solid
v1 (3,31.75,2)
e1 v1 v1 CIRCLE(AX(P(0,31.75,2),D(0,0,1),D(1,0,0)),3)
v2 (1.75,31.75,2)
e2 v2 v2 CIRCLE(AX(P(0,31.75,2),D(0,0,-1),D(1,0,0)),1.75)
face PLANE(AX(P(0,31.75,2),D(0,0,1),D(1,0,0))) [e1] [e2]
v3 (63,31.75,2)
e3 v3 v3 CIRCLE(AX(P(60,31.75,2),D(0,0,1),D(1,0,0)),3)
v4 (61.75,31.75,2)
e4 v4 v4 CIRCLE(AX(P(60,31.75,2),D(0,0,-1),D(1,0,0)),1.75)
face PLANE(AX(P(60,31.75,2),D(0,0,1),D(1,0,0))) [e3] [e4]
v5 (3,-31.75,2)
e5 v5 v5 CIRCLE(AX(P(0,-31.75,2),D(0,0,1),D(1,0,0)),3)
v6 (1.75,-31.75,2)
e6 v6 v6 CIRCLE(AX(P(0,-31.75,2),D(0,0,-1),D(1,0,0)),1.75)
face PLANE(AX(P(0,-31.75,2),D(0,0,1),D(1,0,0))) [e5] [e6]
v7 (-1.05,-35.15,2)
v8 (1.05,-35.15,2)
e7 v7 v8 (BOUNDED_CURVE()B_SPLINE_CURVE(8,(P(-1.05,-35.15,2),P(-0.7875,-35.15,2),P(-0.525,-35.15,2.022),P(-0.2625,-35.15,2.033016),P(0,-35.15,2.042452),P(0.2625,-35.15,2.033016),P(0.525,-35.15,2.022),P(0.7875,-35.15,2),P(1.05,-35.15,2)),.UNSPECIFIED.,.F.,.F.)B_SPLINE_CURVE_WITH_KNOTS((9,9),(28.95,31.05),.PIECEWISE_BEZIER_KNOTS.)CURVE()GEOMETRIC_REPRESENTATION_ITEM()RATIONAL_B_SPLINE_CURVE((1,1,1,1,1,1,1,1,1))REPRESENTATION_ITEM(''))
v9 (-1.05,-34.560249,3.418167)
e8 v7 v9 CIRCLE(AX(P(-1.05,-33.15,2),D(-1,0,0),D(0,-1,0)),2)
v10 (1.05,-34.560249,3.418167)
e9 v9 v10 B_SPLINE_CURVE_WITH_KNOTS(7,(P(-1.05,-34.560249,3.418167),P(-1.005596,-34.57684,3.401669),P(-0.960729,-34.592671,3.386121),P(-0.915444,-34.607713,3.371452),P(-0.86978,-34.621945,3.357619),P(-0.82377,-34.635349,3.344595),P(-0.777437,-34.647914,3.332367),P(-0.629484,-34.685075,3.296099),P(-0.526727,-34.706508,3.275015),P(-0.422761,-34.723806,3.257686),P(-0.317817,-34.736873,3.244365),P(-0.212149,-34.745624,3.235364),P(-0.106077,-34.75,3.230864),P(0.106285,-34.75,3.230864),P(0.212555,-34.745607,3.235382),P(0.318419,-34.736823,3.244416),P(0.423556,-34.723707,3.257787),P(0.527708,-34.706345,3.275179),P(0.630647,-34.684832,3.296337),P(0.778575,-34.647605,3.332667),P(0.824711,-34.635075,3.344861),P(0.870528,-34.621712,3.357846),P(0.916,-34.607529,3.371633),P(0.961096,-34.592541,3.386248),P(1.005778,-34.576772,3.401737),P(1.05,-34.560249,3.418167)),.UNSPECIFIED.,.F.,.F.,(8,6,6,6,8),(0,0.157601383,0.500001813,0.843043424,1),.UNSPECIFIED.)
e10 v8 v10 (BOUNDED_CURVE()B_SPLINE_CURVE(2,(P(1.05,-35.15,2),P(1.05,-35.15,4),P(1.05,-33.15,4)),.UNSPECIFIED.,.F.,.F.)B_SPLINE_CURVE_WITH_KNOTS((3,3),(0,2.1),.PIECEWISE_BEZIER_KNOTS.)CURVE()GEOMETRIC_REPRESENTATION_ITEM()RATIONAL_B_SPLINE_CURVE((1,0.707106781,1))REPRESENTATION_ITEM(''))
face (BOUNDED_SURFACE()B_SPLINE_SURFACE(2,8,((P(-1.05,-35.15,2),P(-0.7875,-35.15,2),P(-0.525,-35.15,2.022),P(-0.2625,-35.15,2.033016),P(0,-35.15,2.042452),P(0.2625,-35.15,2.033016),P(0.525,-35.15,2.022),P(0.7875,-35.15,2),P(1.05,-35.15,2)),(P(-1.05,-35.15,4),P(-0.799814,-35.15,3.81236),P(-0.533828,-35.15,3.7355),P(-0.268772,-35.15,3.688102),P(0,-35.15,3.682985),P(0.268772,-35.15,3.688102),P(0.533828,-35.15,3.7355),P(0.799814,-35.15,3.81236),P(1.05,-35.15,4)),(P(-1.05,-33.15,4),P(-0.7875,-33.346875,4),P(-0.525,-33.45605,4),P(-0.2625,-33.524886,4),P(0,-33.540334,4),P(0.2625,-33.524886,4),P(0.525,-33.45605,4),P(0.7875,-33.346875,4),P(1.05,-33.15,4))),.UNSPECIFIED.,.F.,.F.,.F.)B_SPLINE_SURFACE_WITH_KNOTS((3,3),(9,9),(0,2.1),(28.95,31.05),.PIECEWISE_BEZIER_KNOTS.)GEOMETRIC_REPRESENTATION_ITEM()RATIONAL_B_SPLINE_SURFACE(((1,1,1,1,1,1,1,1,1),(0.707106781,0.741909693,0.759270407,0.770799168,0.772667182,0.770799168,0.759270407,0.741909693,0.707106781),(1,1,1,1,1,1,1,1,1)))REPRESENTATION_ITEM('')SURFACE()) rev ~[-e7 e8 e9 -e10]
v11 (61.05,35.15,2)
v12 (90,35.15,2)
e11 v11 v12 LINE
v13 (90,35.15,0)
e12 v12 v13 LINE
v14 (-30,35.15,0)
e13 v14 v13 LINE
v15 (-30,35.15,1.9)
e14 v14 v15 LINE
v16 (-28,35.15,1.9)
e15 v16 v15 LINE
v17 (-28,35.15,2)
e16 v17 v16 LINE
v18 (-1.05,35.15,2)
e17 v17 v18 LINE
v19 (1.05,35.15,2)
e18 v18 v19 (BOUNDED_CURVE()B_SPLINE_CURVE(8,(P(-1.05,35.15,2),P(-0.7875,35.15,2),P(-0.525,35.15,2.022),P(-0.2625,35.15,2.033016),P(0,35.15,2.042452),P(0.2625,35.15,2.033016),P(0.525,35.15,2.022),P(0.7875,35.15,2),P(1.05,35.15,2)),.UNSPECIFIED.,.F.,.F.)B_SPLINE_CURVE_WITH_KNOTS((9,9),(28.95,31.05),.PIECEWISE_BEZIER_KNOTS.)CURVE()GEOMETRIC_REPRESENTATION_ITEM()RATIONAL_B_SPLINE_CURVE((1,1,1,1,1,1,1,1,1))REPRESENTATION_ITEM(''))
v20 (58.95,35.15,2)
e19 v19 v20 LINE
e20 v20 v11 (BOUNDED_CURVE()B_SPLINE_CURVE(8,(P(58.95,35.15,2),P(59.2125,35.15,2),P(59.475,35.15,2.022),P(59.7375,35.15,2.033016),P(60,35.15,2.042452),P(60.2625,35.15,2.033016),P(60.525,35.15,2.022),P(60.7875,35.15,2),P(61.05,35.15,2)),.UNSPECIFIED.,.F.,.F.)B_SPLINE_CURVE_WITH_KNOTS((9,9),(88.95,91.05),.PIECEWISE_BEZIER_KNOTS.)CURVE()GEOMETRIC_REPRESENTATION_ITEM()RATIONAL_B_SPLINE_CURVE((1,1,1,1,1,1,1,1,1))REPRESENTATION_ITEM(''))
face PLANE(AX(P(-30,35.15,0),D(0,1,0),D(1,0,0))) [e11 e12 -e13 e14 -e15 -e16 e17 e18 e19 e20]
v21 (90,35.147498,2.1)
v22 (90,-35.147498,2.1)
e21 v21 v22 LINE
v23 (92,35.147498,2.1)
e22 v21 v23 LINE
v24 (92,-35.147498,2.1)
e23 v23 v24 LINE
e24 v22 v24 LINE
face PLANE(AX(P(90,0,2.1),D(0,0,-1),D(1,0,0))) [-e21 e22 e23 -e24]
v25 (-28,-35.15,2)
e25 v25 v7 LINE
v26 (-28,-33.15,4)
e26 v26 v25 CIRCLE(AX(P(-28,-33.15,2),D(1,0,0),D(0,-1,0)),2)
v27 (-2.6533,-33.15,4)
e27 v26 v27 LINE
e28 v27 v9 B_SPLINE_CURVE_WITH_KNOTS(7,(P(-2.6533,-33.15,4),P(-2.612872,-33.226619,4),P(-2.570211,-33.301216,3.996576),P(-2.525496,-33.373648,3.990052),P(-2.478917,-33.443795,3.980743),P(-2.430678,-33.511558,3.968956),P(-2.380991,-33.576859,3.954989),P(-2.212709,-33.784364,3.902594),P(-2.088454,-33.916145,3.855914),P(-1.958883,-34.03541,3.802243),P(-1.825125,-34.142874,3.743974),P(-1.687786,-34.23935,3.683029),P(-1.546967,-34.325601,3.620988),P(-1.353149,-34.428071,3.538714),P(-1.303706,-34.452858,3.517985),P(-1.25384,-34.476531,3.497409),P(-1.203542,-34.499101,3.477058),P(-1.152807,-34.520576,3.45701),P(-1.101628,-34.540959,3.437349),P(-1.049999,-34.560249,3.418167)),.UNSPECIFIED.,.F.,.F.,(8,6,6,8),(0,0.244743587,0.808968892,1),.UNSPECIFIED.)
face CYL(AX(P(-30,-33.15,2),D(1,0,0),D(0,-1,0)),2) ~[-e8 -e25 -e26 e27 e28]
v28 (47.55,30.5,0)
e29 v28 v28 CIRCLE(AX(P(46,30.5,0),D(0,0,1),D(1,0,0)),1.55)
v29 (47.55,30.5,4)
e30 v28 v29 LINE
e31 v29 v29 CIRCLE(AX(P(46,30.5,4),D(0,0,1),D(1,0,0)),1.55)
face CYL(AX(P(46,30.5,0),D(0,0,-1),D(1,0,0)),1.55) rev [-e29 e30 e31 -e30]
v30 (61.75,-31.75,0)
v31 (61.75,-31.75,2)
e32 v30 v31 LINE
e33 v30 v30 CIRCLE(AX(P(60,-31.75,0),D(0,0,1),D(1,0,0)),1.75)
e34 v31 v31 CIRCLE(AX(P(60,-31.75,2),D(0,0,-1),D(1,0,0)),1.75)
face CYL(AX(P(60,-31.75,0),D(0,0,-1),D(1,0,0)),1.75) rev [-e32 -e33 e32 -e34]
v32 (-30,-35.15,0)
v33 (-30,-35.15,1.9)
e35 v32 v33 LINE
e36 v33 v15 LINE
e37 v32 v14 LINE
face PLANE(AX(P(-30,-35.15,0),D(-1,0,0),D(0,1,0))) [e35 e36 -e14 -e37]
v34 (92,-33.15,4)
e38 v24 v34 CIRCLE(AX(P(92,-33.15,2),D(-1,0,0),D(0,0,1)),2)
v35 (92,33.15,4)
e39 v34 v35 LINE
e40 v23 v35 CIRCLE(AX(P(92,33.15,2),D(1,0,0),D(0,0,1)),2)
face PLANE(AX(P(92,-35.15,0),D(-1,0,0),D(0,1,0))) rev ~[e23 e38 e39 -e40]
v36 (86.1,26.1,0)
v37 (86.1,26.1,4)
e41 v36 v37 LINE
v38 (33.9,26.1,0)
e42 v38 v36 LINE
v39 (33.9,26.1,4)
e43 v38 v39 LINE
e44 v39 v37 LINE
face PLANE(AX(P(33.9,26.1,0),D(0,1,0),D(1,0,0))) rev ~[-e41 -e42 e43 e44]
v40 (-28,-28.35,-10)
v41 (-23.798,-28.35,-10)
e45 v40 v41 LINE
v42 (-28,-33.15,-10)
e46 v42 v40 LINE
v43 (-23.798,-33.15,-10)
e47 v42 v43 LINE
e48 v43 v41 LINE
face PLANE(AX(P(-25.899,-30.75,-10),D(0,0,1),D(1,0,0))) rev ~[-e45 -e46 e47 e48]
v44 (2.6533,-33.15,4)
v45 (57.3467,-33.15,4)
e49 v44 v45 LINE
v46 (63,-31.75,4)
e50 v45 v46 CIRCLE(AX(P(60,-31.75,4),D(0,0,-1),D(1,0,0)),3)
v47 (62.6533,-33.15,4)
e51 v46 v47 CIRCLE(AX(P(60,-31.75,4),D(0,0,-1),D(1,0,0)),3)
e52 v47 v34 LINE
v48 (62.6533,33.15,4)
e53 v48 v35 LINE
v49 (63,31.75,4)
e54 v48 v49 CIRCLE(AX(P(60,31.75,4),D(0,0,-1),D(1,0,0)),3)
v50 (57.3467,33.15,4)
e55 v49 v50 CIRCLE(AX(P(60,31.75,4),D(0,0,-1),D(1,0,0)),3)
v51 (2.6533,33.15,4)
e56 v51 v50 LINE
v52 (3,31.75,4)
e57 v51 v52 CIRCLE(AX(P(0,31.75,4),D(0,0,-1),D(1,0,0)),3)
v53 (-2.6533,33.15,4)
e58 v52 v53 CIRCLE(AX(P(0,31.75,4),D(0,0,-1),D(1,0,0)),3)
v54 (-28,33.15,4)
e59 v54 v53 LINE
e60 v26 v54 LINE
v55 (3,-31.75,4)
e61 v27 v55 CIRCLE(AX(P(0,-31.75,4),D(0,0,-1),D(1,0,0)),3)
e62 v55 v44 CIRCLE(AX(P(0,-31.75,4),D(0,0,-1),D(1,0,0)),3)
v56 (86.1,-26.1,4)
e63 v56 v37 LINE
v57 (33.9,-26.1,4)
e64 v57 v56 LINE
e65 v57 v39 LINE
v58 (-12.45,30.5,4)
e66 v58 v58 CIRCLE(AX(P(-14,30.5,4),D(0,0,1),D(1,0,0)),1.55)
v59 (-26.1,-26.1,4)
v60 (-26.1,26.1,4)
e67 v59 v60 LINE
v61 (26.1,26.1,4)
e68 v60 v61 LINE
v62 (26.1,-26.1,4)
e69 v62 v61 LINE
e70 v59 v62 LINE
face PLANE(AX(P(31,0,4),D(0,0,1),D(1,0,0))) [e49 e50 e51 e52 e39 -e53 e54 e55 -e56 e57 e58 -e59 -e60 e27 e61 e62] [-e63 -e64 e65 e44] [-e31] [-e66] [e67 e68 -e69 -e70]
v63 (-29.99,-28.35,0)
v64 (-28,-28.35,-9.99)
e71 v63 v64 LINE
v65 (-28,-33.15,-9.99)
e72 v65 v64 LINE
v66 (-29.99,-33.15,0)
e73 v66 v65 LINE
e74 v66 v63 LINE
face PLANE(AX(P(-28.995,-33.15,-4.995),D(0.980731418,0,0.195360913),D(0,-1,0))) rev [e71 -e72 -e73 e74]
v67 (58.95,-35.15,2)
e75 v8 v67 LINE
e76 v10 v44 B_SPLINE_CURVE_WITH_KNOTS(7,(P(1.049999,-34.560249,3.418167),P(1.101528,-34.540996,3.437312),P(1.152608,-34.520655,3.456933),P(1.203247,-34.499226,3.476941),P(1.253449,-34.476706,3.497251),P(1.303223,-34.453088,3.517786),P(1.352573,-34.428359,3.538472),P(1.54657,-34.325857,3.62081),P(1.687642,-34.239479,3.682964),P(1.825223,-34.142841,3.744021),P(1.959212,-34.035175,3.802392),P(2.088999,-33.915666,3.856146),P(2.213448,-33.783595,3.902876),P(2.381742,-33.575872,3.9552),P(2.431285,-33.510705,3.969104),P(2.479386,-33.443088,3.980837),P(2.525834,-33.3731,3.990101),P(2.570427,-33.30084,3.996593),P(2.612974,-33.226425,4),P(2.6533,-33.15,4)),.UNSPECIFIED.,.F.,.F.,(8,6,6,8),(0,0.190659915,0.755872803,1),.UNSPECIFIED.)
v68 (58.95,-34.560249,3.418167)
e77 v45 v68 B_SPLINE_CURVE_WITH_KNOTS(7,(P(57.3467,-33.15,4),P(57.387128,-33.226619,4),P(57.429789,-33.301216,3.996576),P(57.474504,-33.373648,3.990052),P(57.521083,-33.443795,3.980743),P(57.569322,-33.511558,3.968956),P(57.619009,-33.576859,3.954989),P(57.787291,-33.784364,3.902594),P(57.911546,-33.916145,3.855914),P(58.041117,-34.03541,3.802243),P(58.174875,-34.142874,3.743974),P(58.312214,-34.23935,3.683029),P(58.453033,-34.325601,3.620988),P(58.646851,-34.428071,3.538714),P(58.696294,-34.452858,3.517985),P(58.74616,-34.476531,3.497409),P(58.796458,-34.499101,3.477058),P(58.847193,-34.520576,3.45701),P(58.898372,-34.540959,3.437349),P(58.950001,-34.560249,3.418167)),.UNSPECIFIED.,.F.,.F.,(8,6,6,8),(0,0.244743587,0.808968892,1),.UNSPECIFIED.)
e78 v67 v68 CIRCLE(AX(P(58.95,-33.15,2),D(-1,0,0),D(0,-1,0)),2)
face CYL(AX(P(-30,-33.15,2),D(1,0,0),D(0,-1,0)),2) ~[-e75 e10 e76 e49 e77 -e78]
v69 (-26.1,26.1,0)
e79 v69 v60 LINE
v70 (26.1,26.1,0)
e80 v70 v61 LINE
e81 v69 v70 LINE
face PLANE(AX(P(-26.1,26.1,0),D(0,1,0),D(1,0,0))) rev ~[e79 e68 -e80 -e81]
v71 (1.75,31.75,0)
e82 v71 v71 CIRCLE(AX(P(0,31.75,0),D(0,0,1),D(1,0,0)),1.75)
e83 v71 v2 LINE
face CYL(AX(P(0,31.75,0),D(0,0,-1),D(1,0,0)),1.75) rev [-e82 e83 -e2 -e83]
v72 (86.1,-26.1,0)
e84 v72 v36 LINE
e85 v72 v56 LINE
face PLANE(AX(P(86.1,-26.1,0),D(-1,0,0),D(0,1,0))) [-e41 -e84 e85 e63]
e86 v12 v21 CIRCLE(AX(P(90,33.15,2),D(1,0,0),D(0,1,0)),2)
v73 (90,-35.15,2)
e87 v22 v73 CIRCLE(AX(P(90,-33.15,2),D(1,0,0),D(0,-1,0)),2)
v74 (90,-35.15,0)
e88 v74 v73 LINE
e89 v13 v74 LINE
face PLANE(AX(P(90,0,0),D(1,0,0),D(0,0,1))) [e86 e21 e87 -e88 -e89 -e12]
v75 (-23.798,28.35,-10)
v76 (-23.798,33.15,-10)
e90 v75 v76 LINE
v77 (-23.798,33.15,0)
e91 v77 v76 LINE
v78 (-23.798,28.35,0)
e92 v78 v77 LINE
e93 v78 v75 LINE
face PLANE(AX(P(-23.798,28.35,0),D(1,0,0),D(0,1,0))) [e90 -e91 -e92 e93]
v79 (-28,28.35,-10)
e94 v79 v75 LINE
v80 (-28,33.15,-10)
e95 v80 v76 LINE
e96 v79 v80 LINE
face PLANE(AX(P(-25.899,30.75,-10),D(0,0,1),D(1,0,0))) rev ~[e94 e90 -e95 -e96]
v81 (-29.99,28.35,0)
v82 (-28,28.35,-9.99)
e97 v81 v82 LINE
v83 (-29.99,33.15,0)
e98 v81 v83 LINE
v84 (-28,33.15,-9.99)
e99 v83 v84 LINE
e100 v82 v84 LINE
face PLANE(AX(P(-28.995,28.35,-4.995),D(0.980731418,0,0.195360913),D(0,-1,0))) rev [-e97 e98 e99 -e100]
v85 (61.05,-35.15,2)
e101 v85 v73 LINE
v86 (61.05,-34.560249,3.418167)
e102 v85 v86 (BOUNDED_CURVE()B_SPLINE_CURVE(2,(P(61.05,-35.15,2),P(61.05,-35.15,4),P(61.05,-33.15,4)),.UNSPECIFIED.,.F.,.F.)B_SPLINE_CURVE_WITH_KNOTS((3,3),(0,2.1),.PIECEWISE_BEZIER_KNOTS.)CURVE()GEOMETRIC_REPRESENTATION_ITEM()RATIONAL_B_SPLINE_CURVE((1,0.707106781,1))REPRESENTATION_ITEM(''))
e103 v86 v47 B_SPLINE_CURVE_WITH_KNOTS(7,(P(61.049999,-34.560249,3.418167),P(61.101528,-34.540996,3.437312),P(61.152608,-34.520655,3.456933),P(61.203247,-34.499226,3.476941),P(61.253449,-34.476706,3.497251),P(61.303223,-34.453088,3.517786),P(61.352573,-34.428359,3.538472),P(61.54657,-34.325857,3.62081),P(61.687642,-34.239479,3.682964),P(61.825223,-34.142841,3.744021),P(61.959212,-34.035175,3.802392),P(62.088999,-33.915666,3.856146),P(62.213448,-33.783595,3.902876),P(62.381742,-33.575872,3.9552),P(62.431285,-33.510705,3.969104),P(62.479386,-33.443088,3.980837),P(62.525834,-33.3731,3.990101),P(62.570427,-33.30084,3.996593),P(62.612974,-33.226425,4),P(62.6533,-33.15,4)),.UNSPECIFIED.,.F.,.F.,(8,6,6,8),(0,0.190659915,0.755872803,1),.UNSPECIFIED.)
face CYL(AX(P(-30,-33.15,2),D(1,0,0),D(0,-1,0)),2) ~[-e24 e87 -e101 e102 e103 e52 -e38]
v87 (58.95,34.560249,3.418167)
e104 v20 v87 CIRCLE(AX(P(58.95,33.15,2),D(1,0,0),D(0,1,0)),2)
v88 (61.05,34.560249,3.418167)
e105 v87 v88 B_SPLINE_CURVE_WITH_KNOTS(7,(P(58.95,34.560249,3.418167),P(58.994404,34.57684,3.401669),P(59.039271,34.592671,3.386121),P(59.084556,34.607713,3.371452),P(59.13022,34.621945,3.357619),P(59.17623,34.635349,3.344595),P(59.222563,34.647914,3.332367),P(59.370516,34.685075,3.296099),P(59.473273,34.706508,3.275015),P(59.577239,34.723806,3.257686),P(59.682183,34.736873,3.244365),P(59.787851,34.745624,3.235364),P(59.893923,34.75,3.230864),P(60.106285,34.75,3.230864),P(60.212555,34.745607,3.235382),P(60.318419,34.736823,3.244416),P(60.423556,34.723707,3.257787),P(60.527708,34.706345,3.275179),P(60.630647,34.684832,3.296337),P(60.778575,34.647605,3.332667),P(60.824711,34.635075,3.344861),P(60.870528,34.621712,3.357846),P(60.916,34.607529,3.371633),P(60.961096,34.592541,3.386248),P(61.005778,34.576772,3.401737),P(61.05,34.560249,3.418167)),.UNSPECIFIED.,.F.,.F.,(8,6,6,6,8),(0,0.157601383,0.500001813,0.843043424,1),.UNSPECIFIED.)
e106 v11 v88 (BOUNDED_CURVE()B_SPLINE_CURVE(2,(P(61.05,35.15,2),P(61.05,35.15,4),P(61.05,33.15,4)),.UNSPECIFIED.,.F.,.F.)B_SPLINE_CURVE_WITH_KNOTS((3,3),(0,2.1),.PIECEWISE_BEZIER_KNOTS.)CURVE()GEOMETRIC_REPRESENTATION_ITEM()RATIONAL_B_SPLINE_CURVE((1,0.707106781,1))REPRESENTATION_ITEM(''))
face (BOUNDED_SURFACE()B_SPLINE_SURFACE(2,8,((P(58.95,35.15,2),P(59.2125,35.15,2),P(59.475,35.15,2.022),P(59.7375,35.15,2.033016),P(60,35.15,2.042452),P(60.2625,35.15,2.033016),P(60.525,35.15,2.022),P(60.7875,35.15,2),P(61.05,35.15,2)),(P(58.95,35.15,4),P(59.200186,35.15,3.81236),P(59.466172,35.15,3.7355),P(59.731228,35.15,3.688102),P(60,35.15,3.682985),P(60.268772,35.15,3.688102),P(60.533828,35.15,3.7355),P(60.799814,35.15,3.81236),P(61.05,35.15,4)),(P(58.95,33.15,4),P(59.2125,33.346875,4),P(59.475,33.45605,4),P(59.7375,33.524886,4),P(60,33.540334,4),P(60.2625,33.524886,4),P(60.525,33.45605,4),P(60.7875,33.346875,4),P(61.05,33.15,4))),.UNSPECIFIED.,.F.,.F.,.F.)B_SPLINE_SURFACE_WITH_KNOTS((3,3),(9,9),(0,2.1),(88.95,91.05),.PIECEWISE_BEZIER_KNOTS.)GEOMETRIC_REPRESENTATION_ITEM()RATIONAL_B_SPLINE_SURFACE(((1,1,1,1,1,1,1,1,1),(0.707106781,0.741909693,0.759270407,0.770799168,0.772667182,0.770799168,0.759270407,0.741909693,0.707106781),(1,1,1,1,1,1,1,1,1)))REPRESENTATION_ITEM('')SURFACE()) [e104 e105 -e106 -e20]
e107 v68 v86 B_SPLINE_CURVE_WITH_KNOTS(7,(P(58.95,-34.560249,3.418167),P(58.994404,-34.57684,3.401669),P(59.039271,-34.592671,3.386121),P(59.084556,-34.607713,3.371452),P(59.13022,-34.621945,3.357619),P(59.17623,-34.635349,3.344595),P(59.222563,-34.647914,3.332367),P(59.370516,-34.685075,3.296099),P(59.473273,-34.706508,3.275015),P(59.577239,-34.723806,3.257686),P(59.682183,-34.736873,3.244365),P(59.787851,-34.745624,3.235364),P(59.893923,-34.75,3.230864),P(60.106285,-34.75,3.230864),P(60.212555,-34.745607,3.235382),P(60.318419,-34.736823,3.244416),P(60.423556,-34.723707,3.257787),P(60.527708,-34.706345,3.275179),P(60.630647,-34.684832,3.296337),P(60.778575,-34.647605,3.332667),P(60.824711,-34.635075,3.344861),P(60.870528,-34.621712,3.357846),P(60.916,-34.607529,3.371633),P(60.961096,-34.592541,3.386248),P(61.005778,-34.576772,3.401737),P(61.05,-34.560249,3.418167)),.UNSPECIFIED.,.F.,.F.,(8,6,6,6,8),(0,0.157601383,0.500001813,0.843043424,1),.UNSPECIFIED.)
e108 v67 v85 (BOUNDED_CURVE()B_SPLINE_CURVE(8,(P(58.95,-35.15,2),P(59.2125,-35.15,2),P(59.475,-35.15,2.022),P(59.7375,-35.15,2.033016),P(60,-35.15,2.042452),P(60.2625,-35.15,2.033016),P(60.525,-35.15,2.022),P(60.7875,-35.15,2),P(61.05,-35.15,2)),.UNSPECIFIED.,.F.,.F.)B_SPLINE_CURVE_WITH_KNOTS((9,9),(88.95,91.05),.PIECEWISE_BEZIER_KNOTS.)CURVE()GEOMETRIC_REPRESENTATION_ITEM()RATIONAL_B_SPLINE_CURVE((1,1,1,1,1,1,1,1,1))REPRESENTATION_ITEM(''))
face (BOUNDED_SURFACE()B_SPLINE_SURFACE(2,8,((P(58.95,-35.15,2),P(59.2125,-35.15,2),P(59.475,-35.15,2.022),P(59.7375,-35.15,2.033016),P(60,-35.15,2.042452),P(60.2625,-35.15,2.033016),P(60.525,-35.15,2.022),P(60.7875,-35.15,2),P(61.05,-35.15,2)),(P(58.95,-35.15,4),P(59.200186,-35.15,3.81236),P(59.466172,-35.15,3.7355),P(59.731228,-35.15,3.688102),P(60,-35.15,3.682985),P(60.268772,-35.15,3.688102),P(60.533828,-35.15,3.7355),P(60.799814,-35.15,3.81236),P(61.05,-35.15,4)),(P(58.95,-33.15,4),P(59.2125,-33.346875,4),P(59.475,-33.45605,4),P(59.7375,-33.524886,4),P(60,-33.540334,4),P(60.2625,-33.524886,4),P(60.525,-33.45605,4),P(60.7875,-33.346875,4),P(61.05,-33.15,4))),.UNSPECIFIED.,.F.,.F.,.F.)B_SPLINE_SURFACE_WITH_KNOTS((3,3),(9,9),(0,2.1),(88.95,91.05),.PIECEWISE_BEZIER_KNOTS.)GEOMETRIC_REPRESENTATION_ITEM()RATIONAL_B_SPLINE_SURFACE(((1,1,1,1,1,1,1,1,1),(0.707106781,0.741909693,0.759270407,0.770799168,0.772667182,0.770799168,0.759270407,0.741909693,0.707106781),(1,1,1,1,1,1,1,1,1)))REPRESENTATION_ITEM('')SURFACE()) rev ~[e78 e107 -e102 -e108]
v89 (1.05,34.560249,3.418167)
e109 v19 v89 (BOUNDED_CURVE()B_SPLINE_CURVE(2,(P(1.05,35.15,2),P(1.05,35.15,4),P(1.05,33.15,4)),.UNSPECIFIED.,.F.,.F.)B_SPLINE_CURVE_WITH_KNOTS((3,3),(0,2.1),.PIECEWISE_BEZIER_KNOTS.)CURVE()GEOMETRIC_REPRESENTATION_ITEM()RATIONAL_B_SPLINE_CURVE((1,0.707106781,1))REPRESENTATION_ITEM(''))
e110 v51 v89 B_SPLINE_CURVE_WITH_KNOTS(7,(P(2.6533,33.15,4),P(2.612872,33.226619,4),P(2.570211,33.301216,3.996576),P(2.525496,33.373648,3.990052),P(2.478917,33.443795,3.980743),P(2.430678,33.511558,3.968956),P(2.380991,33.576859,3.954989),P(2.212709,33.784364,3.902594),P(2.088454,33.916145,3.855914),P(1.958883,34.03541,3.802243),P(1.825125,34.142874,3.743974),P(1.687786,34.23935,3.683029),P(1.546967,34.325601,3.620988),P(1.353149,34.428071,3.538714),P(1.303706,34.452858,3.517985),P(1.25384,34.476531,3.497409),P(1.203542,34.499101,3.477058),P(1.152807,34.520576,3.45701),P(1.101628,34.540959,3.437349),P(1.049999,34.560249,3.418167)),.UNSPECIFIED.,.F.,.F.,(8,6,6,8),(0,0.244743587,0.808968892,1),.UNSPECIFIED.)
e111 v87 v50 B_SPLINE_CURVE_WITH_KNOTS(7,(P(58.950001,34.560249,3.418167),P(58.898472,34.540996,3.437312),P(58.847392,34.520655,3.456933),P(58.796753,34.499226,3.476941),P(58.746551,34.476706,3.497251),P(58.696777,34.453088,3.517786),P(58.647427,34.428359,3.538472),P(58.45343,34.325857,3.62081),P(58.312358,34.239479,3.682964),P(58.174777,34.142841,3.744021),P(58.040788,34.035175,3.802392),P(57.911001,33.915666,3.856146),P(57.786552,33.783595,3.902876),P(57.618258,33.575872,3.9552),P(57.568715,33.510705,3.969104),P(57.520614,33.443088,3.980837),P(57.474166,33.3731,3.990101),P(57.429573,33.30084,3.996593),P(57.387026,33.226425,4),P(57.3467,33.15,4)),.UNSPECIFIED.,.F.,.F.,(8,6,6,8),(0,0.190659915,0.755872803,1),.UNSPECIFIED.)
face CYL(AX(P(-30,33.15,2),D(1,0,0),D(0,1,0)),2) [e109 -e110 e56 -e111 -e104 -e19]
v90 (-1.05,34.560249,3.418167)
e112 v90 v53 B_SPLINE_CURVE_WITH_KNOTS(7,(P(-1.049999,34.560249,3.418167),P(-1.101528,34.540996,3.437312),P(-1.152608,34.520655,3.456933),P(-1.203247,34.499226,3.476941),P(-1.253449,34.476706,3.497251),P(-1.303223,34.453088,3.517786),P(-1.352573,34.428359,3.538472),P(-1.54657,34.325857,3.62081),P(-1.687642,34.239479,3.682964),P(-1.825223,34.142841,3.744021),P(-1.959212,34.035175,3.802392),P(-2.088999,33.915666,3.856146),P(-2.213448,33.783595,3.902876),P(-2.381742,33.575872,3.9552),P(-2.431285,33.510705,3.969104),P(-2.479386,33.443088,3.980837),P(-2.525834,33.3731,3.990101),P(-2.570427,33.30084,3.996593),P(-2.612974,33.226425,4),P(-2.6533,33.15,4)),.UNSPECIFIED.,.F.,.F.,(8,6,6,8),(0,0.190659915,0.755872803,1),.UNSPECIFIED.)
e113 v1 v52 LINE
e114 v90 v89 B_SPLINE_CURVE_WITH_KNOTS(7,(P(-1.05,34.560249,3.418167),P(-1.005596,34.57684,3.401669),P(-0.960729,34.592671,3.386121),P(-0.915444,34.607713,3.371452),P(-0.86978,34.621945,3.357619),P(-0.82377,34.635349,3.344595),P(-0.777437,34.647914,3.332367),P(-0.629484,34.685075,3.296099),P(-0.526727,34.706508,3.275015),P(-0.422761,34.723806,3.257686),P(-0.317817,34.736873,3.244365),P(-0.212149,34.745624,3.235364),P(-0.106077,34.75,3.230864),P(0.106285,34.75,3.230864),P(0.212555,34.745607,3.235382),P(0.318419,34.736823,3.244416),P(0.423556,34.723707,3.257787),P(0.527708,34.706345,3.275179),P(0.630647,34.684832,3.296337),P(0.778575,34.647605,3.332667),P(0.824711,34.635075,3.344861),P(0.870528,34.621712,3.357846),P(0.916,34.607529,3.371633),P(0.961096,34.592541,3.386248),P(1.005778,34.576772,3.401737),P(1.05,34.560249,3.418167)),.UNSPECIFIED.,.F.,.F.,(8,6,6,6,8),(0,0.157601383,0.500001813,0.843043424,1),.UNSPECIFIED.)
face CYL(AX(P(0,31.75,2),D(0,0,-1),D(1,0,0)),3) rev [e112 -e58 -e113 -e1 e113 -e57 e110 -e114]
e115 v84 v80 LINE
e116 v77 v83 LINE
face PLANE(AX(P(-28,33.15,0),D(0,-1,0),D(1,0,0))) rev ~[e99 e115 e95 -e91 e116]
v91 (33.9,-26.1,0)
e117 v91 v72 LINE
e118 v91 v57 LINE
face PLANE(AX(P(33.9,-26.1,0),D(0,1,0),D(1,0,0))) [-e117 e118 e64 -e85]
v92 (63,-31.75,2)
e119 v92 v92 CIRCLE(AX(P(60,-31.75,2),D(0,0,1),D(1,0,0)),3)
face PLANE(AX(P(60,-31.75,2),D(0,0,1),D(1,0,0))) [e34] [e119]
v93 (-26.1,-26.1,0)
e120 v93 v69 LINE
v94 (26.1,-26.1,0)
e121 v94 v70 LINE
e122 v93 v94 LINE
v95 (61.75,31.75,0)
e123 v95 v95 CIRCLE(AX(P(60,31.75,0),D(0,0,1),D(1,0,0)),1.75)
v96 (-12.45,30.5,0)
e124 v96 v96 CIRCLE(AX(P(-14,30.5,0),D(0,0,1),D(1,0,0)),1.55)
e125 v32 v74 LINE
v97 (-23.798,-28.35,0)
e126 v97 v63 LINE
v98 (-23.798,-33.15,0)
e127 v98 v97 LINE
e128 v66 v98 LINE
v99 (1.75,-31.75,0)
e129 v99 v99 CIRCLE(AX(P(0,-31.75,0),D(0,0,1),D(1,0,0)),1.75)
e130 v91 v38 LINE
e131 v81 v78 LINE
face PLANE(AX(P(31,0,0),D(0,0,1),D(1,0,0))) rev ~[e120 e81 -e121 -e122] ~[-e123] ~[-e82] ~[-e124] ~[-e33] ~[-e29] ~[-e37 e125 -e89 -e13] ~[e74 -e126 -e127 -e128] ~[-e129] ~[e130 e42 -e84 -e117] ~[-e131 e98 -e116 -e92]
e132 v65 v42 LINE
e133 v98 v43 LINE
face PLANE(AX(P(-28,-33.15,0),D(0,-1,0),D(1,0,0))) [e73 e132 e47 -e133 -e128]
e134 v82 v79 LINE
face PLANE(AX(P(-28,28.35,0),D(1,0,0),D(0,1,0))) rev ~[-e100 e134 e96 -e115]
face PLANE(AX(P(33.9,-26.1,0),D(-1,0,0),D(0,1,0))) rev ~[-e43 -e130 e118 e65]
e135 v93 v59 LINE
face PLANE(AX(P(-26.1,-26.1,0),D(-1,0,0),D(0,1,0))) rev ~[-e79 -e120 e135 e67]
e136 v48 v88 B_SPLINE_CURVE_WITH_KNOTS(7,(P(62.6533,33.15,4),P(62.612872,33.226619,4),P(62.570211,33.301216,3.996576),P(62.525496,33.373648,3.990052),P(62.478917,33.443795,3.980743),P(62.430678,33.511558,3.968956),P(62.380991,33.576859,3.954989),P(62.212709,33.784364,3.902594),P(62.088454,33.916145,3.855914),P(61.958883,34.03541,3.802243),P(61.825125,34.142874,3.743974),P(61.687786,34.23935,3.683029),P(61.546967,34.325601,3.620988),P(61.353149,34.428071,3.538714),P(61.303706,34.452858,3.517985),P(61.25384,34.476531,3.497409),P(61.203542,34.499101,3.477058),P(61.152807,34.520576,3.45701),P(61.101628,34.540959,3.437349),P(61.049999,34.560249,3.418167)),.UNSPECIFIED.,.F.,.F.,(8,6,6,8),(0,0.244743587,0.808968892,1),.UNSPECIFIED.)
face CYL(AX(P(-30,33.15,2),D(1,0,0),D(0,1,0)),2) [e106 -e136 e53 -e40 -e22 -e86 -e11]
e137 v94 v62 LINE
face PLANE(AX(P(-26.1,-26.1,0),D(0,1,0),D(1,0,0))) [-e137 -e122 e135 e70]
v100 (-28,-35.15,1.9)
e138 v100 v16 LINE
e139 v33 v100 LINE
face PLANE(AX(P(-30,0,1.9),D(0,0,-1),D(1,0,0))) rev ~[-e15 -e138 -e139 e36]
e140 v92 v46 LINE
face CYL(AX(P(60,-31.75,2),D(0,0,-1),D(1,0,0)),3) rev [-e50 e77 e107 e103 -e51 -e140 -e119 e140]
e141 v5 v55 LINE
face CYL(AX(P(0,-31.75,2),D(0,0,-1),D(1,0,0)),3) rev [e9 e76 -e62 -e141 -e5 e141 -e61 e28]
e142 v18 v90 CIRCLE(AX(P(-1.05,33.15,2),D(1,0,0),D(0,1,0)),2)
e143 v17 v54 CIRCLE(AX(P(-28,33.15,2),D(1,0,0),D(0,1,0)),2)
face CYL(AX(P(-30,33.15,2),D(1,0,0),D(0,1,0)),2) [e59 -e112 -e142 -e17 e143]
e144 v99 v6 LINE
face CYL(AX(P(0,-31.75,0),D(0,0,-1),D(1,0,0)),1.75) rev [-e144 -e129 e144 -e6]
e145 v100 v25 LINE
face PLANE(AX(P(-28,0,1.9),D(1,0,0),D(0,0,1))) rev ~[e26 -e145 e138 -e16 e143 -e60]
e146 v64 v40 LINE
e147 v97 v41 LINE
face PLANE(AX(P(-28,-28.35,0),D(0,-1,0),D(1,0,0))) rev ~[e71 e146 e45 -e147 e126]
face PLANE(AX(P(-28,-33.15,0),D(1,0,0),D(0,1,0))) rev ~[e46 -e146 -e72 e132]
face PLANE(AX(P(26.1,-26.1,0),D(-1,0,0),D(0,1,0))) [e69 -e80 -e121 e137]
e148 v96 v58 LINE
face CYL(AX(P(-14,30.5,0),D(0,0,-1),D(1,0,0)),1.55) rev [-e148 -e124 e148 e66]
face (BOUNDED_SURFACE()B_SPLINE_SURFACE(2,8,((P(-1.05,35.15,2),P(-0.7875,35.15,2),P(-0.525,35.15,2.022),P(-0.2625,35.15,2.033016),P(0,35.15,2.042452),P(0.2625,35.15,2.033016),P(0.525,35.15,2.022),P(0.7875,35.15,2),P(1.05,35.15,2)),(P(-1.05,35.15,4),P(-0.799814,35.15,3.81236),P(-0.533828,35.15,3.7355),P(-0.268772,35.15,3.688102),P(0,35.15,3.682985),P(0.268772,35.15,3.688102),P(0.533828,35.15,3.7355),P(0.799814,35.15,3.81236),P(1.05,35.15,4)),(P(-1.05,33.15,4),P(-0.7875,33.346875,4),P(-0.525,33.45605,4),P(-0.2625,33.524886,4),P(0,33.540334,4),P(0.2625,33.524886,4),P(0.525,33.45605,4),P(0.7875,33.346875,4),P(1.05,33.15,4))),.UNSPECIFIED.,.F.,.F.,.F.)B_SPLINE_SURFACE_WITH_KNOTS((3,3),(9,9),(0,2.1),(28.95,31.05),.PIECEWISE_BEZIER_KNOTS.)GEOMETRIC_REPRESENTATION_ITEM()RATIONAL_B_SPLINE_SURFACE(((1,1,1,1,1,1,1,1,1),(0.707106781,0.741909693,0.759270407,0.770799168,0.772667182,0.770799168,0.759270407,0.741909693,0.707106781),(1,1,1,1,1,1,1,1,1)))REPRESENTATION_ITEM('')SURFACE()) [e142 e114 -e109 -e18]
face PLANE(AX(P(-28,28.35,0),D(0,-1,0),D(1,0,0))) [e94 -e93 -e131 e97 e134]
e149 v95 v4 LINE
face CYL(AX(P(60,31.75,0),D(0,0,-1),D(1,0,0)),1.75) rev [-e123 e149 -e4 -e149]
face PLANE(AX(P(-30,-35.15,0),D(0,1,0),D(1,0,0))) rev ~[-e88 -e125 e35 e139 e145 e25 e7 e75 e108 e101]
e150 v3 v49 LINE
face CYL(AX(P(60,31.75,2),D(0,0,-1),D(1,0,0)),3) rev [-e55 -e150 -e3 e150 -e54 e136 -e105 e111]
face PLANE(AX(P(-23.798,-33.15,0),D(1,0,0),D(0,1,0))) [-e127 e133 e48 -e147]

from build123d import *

# Parameters (mm, degrees)
SKETCH101_W          = 122
SKETCH101_H          = 70.3
SKETCH101_R          = 1.75
SKETCH101_R_2        = 1.55
SKETCH101_W_2        = 52.2
SKETCH101_H_2        = 52.2
PAD033_DEPTH         = 4
FILLET008_R          = 2
SKETCH102_W          = 2
SKETCH102_H          = 2.1
POCKET051_DEPTH      = 35.151
POCKET051_DEPTH_BACK = 35.151
SKETCH103_R          = 3
POCKET039_DEPTH      = 2.001
SKETCH104_W          = 4.202
SKETCH104_H          = 4.8
PAD035_DEPTH         = 10
CHAMFER004_SIZE2     = 9.99
CHAMFER004_SIZE      = 1.99


with BuildPart() as part:
    # Sketch101 → Pad033 (new body)
    with BuildSketch(Plane.XY):
        with Locations((31, 0)):
            Rectangle(SKETCH101_W, SKETCH101_H)
        with Locations((0, 31.75)):
            Circle(SKETCH101_R, mode=Mode.SUBTRACT)
        with Locations((-14, 30.5)):
            Circle(SKETCH101_R_2, mode=Mode.SUBTRACT)
        with Locations((60, 31.75)):
            Circle(SKETCH101_R, mode=Mode.SUBTRACT)
        with Locations((46, 30.5)):
            Circle(SKETCH101_R_2, mode=Mode.SUBTRACT)
        with Locations((60, -31.75)):
            Circle(SKETCH101_R, mode=Mode.SUBTRACT)
        with Locations((0, -31.75)):
            Circle(SKETCH101_R, mode=Mode.SUBTRACT)
        Rectangle(SKETCH101_W_2, SKETCH101_H_2, mode=Mode.SUBTRACT)
        with Locations((60, 0)):
            Rectangle(SKETCH101_W_2, SKETCH101_H_2, mode=Mode.SUBTRACT)
    extrude(amount=PAD033_DEPTH)

    # Fillet008
    fillet008_edges = [part.edges().sort_by_distance(p)[0] for p in [
        (31, 35.15, 4),
        (31, -35.15, 4),
    ]]
    fillet(fillet008_edges, radius=FILLET008_R)

    # Sketch102 → Pocket051 (cut, two sides)
    with BuildSketch(Plane.XZ) as pocket051_sk:
        with Locations((-29, 2.95)):
            Rectangle(SKETCH102_W, SKETCH102_H)
        with Locations((91, 1.05)):
            Rectangle(SKETCH102_W, SKETCH102_H)
    extrude(amount=-POCKET051_DEPTH, mode=Mode.SUBTRACT)
    extrude(pocket051_sk.sketch, amount=POCKET051_DEPTH_BACK, mode=Mode.SUBTRACT)

    # Sketch103 → Pocket039 (cut, through all)
    with BuildSketch(Plane.XY.offset(2)):
        with Locations((0, 31.75)):
            Circle(SKETCH103_R)
        with Locations((60, 31.75)):
            Circle(SKETCH103_R)
        with Locations((60, -31.75)):
            Circle(SKETCH103_R)
        with Locations((0, -31.75)):
            Circle(SKETCH103_R)
    extrude(amount=POCKET039_DEPTH, mode=Mode.SUBTRACT)

    # Sketch104 → Pad035 (join)
    with BuildSketch(Plane.XY):
        with Locations((-25.899, 30.75)):
            Rectangle(SKETCH104_W, SKETCH104_H)
        with Locations((-25.899, -30.75)):
            Rectangle(SKETCH104_W, SKETCH104_H)
    extrude(amount=-PAD035_DEPTH)

    # Chamfer004
    chamfer004_edges = [part.edges().sort_by_distance(p)[0] for p in [
        (-28, -30.75, 0),
        (-28, 30.75, 0),
    ]]
    chamfer004_side = part.faces().sort_by_distance((30.852667, -0.159179, 0))[0]
    chamfer(chamfer004_edges, length=CHAMFER004_SIZE, length2=CHAMFER004_SIZE2, reference=chamfer004_side)


solid = part.part
